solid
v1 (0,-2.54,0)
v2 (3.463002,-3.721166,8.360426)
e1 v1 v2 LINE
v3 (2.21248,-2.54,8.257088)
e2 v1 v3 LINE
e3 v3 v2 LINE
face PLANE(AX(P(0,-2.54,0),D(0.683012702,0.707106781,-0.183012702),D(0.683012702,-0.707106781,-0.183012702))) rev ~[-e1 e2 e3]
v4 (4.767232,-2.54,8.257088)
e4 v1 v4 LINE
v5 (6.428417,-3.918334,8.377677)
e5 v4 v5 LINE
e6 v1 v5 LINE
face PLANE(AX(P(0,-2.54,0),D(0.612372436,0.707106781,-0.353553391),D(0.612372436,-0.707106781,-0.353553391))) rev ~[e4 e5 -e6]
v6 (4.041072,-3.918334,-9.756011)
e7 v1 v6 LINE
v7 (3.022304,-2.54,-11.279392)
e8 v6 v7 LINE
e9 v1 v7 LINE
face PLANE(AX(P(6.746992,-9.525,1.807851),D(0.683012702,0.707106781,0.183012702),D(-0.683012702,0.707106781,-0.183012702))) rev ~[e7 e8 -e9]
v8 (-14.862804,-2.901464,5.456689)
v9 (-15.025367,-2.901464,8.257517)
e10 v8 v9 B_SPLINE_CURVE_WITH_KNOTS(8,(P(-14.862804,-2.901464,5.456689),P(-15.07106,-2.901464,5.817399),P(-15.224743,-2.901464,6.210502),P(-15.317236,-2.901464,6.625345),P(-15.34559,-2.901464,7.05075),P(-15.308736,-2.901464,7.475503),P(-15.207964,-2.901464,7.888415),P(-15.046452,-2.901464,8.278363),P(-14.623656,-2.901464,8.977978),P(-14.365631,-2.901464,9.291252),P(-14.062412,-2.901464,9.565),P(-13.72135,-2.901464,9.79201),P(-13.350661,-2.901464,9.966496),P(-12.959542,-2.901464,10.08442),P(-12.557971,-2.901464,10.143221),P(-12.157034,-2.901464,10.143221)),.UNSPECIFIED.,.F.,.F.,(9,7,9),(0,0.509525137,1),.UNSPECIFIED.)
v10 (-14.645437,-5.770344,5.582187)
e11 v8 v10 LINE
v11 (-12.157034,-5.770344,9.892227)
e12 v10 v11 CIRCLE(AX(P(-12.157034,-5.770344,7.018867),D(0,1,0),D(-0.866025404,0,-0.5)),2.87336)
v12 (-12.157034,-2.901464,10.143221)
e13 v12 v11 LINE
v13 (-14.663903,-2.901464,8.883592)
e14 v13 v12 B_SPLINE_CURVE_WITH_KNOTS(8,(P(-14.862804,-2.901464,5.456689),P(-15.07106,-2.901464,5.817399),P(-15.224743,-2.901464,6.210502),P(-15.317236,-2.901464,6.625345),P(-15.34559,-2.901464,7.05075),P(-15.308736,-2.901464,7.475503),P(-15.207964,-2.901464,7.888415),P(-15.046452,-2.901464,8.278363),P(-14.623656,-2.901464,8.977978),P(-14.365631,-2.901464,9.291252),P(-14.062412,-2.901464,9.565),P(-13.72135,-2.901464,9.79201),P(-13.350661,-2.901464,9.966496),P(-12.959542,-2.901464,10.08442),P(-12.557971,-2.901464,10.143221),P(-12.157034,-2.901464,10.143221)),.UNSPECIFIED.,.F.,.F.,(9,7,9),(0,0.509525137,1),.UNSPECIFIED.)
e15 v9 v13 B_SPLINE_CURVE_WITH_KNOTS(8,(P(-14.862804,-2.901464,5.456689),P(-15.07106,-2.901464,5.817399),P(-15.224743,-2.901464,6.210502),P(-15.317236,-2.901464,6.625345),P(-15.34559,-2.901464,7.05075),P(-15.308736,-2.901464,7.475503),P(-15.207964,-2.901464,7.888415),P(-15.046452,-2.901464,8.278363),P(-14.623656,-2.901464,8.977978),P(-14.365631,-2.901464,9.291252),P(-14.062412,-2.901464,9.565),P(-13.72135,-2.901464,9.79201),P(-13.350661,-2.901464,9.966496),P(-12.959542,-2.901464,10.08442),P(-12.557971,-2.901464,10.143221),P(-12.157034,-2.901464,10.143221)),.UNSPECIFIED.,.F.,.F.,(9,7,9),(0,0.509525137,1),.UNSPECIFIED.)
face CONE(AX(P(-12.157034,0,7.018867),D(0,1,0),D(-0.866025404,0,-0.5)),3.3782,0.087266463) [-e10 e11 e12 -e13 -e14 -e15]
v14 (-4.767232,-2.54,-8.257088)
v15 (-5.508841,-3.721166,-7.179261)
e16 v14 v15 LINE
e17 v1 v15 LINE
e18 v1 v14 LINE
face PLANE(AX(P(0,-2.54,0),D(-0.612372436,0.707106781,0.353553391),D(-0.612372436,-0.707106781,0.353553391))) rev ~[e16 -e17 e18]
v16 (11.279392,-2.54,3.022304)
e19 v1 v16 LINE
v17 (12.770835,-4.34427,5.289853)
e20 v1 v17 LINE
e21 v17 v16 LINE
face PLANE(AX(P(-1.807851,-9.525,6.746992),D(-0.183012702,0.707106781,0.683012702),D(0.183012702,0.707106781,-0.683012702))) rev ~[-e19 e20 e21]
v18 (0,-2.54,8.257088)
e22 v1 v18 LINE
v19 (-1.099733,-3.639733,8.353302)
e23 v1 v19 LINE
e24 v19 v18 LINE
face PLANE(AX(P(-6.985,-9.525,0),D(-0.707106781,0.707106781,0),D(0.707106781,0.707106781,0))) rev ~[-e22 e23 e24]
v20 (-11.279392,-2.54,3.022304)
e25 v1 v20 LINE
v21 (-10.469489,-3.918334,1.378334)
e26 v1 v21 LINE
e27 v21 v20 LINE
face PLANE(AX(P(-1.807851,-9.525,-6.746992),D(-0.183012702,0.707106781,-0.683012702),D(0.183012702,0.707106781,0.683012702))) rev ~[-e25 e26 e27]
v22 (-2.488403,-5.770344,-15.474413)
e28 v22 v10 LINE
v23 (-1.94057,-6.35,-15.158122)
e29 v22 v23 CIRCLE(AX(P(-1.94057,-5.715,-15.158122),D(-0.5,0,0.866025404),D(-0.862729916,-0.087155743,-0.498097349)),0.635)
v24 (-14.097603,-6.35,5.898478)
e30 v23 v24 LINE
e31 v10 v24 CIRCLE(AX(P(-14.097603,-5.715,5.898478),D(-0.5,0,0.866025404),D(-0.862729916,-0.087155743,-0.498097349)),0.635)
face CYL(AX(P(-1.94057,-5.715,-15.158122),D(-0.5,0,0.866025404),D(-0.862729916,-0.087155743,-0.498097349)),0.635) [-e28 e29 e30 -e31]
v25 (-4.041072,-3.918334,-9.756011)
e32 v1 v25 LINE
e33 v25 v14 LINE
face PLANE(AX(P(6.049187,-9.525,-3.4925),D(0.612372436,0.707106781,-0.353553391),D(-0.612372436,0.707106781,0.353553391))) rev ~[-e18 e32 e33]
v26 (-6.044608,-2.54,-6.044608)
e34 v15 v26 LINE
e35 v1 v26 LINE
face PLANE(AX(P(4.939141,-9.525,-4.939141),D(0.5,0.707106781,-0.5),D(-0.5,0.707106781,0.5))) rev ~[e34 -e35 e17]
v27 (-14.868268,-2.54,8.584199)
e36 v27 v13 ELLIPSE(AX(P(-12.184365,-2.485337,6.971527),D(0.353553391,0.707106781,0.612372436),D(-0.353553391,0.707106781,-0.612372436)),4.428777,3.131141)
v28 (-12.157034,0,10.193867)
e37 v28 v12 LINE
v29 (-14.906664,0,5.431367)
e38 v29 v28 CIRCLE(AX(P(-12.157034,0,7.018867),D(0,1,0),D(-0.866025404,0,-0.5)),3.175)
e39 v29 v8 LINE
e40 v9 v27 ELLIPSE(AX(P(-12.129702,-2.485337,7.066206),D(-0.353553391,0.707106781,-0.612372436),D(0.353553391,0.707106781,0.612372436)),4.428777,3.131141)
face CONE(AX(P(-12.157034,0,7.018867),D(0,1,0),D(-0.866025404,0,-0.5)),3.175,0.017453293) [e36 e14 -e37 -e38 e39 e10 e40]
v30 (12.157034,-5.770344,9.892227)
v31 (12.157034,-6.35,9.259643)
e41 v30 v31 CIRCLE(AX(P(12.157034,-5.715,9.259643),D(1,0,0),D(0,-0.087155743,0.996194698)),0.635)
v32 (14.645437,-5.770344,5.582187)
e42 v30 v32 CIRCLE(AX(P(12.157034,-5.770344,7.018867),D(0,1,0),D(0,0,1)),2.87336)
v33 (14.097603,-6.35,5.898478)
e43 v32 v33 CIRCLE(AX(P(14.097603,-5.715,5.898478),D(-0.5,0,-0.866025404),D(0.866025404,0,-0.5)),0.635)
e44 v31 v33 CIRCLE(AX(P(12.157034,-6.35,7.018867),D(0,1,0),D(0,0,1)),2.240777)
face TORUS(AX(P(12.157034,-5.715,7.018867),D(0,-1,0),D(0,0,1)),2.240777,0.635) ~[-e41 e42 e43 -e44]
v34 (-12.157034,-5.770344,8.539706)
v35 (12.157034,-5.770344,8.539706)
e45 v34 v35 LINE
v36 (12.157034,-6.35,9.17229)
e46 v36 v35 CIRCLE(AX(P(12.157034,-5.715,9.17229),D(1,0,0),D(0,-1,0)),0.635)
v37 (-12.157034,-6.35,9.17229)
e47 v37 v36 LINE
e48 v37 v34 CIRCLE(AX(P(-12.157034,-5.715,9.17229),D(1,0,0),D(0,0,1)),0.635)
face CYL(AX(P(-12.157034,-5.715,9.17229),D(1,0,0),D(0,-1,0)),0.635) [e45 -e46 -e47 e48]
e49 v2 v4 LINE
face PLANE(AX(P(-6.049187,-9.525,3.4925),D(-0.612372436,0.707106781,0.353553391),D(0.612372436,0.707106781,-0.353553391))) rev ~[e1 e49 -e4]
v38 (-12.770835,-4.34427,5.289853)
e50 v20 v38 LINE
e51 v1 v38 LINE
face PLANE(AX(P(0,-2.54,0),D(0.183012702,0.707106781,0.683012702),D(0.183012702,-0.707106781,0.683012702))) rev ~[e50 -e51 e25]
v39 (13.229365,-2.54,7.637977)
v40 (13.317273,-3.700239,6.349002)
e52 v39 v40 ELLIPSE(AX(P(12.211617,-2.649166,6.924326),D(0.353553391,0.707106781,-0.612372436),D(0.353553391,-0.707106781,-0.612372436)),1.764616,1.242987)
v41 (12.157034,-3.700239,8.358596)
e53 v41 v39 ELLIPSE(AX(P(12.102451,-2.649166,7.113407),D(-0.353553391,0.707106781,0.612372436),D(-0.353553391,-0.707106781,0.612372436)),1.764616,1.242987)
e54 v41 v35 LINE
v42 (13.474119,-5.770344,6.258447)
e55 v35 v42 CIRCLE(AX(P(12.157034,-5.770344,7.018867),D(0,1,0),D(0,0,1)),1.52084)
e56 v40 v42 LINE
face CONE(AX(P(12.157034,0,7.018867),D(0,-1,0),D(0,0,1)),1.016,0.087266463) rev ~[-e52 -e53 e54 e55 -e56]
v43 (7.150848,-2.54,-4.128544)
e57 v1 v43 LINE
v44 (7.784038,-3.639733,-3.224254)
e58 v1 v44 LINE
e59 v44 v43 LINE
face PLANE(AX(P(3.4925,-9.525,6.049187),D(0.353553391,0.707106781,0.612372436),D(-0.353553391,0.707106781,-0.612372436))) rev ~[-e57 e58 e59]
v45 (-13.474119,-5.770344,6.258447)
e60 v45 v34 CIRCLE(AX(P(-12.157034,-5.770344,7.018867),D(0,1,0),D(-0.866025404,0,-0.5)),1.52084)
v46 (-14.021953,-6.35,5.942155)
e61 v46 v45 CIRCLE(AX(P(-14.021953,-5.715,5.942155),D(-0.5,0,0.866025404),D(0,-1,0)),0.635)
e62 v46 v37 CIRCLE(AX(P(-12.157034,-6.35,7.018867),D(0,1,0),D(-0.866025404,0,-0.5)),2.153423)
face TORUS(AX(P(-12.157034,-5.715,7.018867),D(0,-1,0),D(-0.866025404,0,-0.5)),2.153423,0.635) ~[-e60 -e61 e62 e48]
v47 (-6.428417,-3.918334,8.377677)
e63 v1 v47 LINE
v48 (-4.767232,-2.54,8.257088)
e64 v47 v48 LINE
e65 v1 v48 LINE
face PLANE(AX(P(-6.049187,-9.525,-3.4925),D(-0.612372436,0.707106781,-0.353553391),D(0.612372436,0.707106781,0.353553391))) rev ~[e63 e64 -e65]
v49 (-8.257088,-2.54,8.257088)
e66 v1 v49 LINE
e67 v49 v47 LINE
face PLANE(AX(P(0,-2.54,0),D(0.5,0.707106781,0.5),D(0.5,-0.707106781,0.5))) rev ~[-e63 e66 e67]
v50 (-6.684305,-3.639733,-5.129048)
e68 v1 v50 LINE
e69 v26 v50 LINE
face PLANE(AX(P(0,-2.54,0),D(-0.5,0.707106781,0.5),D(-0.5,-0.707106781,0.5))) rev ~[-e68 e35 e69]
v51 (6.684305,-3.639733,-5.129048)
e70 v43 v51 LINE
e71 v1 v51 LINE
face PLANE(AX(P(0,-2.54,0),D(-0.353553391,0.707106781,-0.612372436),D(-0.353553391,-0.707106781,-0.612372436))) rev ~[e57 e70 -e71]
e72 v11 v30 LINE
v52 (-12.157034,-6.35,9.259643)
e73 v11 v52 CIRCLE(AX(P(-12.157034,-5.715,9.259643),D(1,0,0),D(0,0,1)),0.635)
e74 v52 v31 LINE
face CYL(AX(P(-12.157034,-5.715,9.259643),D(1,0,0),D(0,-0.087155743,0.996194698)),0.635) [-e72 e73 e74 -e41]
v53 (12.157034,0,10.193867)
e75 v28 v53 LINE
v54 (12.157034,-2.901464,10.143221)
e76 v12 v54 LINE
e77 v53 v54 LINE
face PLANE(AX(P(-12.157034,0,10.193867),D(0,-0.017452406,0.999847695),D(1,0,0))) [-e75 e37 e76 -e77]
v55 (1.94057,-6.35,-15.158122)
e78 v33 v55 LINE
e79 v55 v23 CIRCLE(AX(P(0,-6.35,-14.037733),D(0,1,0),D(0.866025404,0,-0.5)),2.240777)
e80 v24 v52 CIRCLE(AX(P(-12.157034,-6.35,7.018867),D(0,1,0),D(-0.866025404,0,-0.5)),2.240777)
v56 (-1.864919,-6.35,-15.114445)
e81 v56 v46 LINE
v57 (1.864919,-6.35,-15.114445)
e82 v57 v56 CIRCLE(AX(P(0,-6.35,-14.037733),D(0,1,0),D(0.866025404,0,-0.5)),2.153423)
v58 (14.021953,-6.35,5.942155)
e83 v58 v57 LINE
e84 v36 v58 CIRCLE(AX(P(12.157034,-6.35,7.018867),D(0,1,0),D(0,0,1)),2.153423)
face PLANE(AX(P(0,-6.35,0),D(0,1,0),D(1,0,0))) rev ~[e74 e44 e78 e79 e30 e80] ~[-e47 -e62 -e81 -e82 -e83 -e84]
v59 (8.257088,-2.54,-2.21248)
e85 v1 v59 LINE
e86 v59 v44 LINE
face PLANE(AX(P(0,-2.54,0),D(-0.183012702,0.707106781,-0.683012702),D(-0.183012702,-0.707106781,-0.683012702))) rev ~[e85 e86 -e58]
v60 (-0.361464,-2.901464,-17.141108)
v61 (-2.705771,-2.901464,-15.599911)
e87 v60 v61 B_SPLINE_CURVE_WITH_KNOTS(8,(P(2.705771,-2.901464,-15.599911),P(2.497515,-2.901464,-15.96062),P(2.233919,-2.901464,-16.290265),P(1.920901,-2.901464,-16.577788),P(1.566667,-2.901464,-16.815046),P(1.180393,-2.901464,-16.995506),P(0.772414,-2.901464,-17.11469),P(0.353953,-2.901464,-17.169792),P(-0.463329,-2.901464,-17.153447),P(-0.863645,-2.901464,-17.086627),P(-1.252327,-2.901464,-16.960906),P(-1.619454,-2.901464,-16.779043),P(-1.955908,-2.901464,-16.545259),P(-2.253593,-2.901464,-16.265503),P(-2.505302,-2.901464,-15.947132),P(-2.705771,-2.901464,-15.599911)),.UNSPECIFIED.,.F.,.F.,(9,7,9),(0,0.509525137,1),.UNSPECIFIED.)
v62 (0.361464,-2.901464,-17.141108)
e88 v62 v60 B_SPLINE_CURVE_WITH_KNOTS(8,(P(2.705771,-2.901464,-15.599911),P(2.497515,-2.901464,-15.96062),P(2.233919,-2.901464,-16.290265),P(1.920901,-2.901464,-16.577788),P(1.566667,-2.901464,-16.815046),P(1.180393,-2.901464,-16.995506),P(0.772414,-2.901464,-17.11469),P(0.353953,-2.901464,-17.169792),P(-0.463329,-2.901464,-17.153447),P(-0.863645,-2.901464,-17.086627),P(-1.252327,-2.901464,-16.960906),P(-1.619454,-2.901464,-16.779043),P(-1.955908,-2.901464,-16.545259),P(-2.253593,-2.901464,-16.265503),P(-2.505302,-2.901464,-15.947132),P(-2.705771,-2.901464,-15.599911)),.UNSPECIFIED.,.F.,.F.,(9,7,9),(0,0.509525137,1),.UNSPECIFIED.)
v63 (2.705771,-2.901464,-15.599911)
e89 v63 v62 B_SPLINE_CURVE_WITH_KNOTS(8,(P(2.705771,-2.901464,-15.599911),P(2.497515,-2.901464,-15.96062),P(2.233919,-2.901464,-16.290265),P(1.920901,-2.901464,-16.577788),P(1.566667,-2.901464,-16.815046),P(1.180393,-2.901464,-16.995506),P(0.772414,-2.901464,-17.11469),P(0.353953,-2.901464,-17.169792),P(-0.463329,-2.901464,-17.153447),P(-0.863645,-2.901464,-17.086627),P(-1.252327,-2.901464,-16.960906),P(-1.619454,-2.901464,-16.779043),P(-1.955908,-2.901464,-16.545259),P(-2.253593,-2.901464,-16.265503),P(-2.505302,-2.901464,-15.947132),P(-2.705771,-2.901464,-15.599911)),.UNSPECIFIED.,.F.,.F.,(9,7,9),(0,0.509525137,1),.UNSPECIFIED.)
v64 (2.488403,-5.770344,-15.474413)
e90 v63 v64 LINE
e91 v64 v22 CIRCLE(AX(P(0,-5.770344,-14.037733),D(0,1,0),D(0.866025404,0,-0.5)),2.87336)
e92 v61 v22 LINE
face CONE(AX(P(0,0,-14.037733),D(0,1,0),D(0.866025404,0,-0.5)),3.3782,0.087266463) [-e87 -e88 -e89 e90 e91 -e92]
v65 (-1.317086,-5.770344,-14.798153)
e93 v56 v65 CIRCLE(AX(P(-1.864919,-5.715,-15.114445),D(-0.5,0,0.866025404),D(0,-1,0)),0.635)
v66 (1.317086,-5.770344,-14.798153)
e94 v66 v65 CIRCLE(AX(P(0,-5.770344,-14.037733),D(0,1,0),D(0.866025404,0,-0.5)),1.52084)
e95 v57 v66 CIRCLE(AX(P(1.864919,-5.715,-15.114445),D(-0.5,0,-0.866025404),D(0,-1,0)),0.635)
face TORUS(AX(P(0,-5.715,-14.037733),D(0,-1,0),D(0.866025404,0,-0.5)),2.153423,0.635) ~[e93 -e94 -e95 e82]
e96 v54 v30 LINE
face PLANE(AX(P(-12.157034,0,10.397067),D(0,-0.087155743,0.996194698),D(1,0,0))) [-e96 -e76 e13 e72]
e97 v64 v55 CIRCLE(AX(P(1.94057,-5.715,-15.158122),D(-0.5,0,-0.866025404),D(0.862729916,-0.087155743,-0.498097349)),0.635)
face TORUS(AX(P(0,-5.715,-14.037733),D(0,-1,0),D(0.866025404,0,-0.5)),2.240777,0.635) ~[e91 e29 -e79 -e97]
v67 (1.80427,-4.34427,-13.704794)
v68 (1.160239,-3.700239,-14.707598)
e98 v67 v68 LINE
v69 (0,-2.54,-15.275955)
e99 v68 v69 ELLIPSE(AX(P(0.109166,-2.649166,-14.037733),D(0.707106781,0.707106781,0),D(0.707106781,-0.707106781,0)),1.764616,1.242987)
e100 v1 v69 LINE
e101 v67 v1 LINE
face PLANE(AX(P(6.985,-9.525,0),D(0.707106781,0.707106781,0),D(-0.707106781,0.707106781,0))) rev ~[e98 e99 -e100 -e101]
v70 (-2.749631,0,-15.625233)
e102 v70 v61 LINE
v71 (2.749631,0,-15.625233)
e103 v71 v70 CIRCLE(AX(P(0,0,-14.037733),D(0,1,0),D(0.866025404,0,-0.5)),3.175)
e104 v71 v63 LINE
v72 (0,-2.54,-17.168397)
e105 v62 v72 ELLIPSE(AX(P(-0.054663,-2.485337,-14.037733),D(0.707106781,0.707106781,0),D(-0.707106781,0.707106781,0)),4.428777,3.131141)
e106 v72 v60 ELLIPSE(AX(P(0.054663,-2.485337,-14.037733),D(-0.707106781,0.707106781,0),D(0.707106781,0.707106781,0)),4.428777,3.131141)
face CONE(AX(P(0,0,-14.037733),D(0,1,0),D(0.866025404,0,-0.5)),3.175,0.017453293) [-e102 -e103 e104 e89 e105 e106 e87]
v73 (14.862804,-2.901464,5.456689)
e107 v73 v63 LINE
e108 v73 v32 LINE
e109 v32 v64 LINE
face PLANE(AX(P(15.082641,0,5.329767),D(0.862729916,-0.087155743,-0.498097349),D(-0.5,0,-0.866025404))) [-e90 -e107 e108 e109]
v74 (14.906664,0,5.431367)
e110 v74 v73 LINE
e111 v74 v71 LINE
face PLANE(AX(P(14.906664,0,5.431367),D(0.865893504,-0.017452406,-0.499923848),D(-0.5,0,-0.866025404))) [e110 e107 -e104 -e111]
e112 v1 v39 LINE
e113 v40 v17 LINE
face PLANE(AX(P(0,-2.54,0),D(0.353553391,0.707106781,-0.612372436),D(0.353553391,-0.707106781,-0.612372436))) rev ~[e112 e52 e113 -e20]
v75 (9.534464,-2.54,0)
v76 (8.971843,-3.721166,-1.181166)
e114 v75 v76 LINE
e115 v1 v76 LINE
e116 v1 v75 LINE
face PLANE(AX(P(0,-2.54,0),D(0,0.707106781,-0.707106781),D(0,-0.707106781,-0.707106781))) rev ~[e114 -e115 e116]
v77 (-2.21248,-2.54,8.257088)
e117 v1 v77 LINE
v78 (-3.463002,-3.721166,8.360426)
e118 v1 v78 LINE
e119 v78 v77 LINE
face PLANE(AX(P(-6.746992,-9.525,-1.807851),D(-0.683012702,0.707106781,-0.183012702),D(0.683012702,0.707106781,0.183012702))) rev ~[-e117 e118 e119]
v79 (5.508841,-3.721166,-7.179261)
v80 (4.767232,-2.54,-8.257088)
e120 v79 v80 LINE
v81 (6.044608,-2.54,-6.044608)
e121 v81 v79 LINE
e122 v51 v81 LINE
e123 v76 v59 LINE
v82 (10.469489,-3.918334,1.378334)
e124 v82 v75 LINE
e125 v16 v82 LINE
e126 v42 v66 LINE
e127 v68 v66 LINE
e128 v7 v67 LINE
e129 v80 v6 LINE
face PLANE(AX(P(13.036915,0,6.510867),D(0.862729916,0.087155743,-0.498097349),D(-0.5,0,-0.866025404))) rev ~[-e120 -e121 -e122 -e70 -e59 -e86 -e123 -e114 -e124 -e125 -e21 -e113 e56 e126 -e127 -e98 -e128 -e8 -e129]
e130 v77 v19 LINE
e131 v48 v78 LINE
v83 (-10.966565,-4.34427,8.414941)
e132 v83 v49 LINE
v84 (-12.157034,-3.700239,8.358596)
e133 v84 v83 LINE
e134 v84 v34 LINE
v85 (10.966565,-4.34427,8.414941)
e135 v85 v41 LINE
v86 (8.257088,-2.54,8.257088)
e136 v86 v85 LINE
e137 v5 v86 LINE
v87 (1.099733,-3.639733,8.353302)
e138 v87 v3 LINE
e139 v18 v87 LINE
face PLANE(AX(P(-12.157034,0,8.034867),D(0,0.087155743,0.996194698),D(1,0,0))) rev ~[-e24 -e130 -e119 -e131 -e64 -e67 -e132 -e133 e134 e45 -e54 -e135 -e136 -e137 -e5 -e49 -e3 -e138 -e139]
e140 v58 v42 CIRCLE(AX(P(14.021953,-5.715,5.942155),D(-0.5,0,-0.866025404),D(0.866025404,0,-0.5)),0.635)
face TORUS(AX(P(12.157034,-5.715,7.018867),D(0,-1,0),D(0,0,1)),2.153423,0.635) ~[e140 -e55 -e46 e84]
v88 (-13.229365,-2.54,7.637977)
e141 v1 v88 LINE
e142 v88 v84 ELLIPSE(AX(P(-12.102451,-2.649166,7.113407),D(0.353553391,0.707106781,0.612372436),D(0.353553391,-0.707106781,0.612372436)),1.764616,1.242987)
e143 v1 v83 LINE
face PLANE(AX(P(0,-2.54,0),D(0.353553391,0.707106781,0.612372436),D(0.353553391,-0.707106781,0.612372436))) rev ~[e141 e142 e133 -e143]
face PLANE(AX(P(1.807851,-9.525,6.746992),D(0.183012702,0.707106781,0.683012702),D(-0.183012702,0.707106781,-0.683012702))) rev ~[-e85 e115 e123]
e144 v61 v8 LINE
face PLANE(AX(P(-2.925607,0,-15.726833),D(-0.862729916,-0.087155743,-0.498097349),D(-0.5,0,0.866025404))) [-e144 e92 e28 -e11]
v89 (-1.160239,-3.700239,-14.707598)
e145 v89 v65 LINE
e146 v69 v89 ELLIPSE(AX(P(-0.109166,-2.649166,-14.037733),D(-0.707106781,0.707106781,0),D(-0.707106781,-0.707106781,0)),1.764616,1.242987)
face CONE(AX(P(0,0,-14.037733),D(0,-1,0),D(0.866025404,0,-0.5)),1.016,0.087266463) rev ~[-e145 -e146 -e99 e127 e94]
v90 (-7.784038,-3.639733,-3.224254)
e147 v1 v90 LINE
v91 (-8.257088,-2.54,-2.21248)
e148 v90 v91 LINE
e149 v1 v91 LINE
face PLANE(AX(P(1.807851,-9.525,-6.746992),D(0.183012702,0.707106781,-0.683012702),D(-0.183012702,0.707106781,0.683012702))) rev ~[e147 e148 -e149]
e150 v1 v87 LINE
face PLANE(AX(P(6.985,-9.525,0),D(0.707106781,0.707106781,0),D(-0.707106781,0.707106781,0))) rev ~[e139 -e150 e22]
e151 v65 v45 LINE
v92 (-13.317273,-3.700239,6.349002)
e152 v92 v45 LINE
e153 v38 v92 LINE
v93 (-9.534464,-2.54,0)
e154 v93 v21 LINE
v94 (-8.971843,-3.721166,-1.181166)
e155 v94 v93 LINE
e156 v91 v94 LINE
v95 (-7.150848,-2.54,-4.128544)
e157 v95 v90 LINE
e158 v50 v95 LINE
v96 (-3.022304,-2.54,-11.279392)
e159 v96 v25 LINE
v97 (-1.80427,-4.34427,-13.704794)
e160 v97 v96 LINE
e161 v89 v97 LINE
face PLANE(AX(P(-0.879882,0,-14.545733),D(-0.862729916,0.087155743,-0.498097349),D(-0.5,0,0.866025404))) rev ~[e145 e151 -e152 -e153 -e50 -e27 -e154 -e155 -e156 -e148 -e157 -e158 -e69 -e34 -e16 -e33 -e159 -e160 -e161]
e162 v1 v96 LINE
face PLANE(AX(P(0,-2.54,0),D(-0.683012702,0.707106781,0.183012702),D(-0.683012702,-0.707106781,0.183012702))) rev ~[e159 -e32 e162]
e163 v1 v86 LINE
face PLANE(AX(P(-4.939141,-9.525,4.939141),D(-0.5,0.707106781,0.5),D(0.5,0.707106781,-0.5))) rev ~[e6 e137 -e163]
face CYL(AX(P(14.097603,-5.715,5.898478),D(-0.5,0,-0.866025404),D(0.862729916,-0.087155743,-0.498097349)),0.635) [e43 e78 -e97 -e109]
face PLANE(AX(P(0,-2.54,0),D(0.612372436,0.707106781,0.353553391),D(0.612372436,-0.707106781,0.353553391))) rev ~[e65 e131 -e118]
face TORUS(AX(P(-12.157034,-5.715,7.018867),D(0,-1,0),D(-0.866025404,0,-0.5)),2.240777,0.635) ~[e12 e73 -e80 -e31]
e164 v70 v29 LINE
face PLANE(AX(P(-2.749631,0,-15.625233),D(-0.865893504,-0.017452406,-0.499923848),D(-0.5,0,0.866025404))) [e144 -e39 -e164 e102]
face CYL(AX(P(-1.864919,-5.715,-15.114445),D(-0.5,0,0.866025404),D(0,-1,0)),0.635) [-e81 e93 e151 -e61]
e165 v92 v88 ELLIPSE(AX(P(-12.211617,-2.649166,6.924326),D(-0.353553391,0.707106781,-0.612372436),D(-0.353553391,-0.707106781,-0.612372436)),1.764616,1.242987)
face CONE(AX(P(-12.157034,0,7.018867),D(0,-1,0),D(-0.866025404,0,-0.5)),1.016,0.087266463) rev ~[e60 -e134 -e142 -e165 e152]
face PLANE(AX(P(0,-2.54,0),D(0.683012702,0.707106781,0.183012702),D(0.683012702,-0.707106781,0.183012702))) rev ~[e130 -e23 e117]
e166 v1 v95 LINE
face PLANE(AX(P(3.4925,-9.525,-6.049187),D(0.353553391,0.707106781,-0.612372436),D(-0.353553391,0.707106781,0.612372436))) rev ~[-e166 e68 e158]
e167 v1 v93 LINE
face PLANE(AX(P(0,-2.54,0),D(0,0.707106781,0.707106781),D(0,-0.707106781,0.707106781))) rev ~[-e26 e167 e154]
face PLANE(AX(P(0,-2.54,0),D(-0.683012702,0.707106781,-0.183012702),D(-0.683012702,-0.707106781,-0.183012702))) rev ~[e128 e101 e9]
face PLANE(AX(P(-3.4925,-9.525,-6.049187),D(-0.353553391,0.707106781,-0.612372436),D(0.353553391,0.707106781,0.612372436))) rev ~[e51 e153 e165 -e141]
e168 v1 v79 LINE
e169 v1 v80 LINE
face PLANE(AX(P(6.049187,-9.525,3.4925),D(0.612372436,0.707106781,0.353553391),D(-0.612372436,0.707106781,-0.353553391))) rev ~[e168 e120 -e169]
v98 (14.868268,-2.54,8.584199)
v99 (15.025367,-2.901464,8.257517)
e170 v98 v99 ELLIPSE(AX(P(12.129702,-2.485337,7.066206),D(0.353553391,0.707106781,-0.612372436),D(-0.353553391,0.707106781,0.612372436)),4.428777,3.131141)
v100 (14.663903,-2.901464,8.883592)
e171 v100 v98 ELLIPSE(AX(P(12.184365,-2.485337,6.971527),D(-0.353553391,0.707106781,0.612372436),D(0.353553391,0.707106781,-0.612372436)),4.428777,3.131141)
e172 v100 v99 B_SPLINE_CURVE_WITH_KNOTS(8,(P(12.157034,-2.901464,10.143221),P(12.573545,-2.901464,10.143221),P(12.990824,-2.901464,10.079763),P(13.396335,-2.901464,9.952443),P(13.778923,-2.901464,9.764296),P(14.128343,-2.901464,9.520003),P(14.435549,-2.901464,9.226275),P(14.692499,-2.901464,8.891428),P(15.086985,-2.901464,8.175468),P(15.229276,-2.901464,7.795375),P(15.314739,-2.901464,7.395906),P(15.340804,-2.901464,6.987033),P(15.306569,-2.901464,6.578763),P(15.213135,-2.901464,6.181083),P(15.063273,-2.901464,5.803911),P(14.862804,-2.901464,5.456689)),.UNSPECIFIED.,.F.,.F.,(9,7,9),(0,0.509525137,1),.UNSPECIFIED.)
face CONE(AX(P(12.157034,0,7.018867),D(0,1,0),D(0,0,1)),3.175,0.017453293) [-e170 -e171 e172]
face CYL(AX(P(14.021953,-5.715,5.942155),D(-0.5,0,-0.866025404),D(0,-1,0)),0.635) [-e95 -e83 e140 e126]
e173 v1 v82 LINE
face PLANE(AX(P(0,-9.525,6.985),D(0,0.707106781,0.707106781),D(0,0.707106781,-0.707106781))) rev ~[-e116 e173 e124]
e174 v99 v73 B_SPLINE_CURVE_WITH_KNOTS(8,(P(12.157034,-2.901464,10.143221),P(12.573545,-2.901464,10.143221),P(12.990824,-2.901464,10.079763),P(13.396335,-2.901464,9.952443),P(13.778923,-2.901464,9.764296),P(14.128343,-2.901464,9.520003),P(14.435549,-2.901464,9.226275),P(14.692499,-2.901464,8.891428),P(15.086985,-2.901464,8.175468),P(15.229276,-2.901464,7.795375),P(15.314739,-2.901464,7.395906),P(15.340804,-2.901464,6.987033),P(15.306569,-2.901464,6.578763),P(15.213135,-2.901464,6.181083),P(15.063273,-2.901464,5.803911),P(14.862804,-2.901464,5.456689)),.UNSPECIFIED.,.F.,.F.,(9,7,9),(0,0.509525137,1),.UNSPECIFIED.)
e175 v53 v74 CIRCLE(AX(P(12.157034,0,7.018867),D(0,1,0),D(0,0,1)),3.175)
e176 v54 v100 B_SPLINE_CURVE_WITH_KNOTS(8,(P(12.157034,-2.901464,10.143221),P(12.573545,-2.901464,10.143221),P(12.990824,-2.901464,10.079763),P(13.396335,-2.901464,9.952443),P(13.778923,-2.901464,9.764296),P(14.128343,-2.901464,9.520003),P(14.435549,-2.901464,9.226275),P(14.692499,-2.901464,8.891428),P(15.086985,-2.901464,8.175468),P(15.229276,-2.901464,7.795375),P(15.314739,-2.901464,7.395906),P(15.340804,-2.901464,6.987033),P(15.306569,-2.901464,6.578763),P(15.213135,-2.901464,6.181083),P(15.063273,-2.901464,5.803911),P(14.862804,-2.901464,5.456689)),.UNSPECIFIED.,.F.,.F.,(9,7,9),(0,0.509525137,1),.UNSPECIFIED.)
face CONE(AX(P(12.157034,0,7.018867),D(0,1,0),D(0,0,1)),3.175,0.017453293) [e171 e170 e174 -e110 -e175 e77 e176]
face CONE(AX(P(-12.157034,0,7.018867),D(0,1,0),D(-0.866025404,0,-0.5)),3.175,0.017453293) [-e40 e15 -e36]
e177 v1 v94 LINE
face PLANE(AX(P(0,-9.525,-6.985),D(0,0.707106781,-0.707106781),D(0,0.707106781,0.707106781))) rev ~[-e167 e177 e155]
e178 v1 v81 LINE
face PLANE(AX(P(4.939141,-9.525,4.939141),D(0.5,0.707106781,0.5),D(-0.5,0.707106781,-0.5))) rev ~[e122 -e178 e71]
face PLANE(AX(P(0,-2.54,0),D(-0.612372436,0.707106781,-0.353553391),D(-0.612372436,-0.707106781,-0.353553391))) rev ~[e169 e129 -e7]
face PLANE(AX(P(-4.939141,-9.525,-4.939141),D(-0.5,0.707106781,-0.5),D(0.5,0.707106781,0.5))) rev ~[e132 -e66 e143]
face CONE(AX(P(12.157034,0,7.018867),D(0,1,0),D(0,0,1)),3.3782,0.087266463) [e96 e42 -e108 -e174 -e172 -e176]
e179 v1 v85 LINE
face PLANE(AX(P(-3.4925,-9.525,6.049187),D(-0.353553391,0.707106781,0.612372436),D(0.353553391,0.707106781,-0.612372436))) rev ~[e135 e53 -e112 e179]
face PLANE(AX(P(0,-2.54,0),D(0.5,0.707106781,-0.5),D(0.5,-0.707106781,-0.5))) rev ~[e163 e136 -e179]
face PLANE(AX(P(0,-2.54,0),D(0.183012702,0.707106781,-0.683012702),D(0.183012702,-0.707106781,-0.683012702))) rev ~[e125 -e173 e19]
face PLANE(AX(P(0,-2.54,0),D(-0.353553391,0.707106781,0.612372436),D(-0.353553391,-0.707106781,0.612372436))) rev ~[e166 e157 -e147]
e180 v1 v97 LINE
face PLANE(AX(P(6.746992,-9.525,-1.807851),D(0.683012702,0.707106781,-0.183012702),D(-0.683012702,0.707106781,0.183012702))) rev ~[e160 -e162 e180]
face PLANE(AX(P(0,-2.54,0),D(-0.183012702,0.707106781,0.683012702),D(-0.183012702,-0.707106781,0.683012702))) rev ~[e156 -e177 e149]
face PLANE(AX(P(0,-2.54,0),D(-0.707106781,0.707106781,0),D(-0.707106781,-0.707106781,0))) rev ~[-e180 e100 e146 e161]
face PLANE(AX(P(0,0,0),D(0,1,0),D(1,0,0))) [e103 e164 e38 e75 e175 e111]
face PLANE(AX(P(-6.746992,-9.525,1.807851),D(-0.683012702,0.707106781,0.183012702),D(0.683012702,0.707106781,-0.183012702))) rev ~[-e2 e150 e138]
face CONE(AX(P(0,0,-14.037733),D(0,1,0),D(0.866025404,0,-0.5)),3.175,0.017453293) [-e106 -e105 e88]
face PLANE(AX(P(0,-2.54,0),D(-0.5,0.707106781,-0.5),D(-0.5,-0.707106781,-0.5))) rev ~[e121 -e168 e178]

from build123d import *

# Parameters (mm, degrees)
BOSS_EXTRUDE1_DEPTH = 6.35
BOSS_EXTRUDE1_DRAFT = -1
CUT_EXTRUDE3_DEPTH  = 24.909662179
CIRPATTERN3_COUNT   = 24
BOSS_EXTRUDE3_DEPTH = 6.35
BOSS_EXTRUDE3_DRAFT = -1
SKETCH8_OUTSIDE_W   = 45.346
SKETCH8_OUTSIDE_H   = 42.089
CUT_EXTRUDE4_DEPTH  = 24.909662179
CUT_EXTRUDE4_DRAFT  = 5
DRAFT2_ANGLE        = -5
FILLET2_R           = 0.635


with BuildPart() as part:
    # Sketch1 → Boss-Extrude1 (with draft: the straight prism first)
    with BuildSketch(Plane(origin=(0, 0, 0), x_dir=(1, 0, 0), z_dir=(0, 1, 0))):
        with BuildLine():
            Line((-2.749630657, 15.625233333), (-14.906664335, -5.431366667))
            ThreePointArc((-14.906664335, -5.431366667), (-14.906664335, -8.606366667), (-12.157033678, -10.193866667))
            Line((-12.157033678, -10.193866667), (12.157033678, -10.193866667))
            ThreePointArc((12.157033678, -10.193866667), (14.906664335, -8.606366667), (14.906664335, -5.431366667))
            Line((14.906664335, -5.431366667), (2.749630657, 15.625233333))
            ThreePointArc((2.749630657, 15.625233333), (0, 17.212733333), (-2.749630657, 15.625233333))
        make_face()
    extrude(amount=-BOSS_EXTRUDE1_DEPTH)
    # Boss-Extrude1: the draft: its side faces are tilted about the plane it starts from
    boss_extrude1_sides = [part.faces().sort_by_distance(p)[0] for p in [
        (8.828147496, -3.175, -5.096933333),
        (0, -3.175, -17.212733333),
        (-8.828147496, -3.175, -5.096933333),
        (-14.906664335, -3.175, 8.606366667),
        (0, -3.175, 10.193866667),
        (14.906664335, -3.175, 8.606366667),
    ]]
    draft(boss_extrude1_sides, Plane(origin=(0, 0, 0), x_dir=(1, 0, 0), z_dir=(0, 1, 0)), BOSS_EXTRUDE1_DRAFT)

    # Sketch6 → Cut-Extrude3 (cut, through all)
    with BuildSketch(Plane.XY):
        Polygon((0, -2.54), (-6.985, -9.525), (6.985, -9.525), align=None)
    cut_extrude3 = extrude(amount=-CUT_EXTRUDE3_DEPTH, mode=Mode.SUBTRACT)

    # CirPattern3: Cut-Extrude3 ×24 about axis
    cirpattern3_axis = Axis((0, 0, 0), (0, 1, 0))
    for i in range(1, CIRPATTERN3_COUNT):
        add(cut_extrude3.rotate(cirpattern3_axis, i * 360 / CIRPATTERN3_COUNT), mode=Mode.SUBTRACT)


with BuildPart() as boss_extrude3_tool:
    # Sketch7 → Boss-Extrude3 (with draft: the straight prism first)
    with BuildSketch(Plane(origin=(0, 0, 0), x_dir=(1, 0, 0), z_dir=(0, 1, 0))):
        with BuildLine():
            Line((-12.157033678, -10.193866667), (12.157033678, -10.193866667))
            ThreePointArc((12.157033678, -10.193866667), (14.906664335, -8.606366667), (14.906664335, -5.431366667))
            Line((14.906664335, -5.431366667), (2.749630657, 15.625233333))
            ThreePointArc((2.749630657, 15.625233333), (0, 17.212733333), (-2.749630657, 15.625233333))
            Line((-2.749630657, 15.625233333), (-14.906664335, -5.431366667))
            ThreePointArc((-14.906664335, -5.431366667), (-14.906664335, -8.606366667), (-12.157033678, -10.193866667))
        make_face()
        with BuildLine():
            Line((-12.157033678, -8.034866667), (12.157033678, -8.034866667))
            ThreePointArc((12.157033678, -8.034866667), (13.036915488, -7.526866667), (13.036915488, -6.510866667))
            Line((13.036915488, -6.510866667), (0.87988181, 14.545733333))
            ThreePointArc((0.87988181, 14.545733333), (0, 15.053733333), (-0.87988181, 14.545733333))
            Line((-0.87988181, 14.545733333), (-13.036915488, -6.510866667))
            ThreePointArc((-13.036915488, -6.510866667), (-13.036915488, -7.526866667), (-12.157033678, -8.034866667))
        make_face(mode=Mode.SUBTRACT)
    extrude(amount=-BOSS_EXTRUDE3_DEPTH)
    # Boss-Extrude3: the draft: its side faces are tilted about the plane it starts from
    boss_extrude3_sides = [boss_extrude3_tool.faces().sort_by_distance(p)[0] for p in [
        (0, -3.175, 10.193866667),
        (14.906664335, -3.175, 8.606366667),
        (8.828147496, -3.175, -5.096933333),
        (0, -3.175, -17.212733333),
        (-8.828147496, -3.175, -5.096933333),
        (-14.906664335, -3.175, 8.606366667),
        (-13.036915488, -3.175, 7.526866667),
        (-6.958398649, -3.175, -4.017433333),
        (0, -3.175, -15.053733333),
        (6.958398649, -3.175, -4.017433333),
        (13.036915488, -3.175, 7.526866667),
        (0, -3.175, 8.034866667),
    ]]
    draft(boss_extrude3_sides, Plane(origin=(0, 0, 0), x_dir=(1, 0, 0), z_dir=(0, 1, 0)), BOSS_EXTRUDE3_DRAFT)


with BuildPart() as part_1:
    add(part.part)

    # Boss-Extrude3: add boss_extrude3_tool
    add(boss_extrude3_tool.part)


with BuildPart() as cut_extrude4_tool:
    # Sketch8 outside → Cut-Extrude4 (with draft: the straight prism first)
    with BuildSketch(Plane(origin=(0, 0, 0), x_dir=(1, 0, 0), z_dir=(0, 1, 0))):
        with Locations((0, 3.5095)):
            Rectangle(SKETCH8_OUTSIDE_W, SKETCH8_OUTSIDE_H)
        with BuildLine():
            Line((-12.157033678, -10.397066667), (12.157033678, -10.397066667))
            ThreePointArc((12.157033678, -10.397066667), (15.082640697, -8.707966667), (15.082640697, -5.329766667))
            Line((15.082640697, -5.329766667), (2.925607019, 15.726833333))
            ThreePointArc((2.925607019, 15.726833333), (0, 17.415933333), (-2.925607019, 15.726833333))
            Line((-2.925607019, 15.726833333), (-15.082640697, -5.329766667))
            ThreePointArc((-15.082640697, -5.329766667), (-15.082640697, -8.707966667), (-12.157033678, -10.397066667))
        make_face(mode=Mode.SUBTRACT)
    extrude(amount=-CUT_EXTRUDE4_DEPTH)
    # Cut-Extrude4: the draft: its side faces are tilted about the plane it starts from
    cut_extrude4_sides = [cut_extrude4_tool.faces().sort_by_distance(p)[0] for p in [
        (0, -12.45483109, 17.535),
        (22.673, -12.45483109, -3.5095),
        (0, -12.45483109, -24.554),
        (-22.673, -12.45483109, -3.5095),
        (-9.004123858, -12.45483109, -5.198533333),
        (0, -12.45483109, -17.415933333),
        (9.004123858, -12.45483109, -5.198533333),
        (15.082640697, -12.45483109, 8.707966667),
        (0, -12.45483109, 10.397066667),
        (-15.082640697, -12.45483109, 8.707966667),
    ]]
    draft(cut_extrude4_sides, Plane(origin=(0, 0, 0), x_dir=(1, 0, 0), z_dir=(0, 1, 0)), CUT_EXTRUDE4_DRAFT)


with BuildPart() as part_2:
    add(part_1.part)

    # Cut-Extrude4: cut by cut_extrude4_tool
    add(cut_extrude4_tool.part, mode=Mode.SUBTRACT)

    # Draft2
    draft2_faces = [part_2.faces().sort_by_distance(p)[0] for p in [
        (-13.104108463, -4.445, 7.565660548),
        (-7.03077319, -4.787774892, -4.059218794),
        (0, -4.445, -15.131321097),
        (7.03077319, -4.787774892, -4.059218794),
        (13.104108463, -4.445, 7.565660548),
        (0, -4.787774892, 8.118437588),
    ]]
    draft(draft2_faces, Plane(origin=(-12.157033678, 0, 7.018866667), x_dir=(0, 0, 1), z_dir=(0, 1, 0)), DRAFT2_ANGLE)

    # Fillet2
    fillet2_edges = [part_2.edges().sort_by_distance(p)[0] for p in [
        (-7.439521672, -6.35, -4.29520984),
        (-13.518038511, -6.35, 7.804643173),
        (0, -6.35, 8.59041968),
        (13.518038511, -6.35, 7.804643173),
        (7.439521672, -6.35, -4.29520984),
        (0, -6.35, -15.609286347),
        (-8.523000835, -6.35, -4.920756827),
        (-14.601517675, -6.35, 8.43019016),
        (0, -6.35, 9.841513653),
        (14.601517675, -6.35, 8.43019016),
        (8.523000835, -6.35, -4.920756827),
        (0, -6.35, -16.86038032),
    ]]
    fillet(fillet2_edges, radius=FILLET2_R)


solid = part_2.part
